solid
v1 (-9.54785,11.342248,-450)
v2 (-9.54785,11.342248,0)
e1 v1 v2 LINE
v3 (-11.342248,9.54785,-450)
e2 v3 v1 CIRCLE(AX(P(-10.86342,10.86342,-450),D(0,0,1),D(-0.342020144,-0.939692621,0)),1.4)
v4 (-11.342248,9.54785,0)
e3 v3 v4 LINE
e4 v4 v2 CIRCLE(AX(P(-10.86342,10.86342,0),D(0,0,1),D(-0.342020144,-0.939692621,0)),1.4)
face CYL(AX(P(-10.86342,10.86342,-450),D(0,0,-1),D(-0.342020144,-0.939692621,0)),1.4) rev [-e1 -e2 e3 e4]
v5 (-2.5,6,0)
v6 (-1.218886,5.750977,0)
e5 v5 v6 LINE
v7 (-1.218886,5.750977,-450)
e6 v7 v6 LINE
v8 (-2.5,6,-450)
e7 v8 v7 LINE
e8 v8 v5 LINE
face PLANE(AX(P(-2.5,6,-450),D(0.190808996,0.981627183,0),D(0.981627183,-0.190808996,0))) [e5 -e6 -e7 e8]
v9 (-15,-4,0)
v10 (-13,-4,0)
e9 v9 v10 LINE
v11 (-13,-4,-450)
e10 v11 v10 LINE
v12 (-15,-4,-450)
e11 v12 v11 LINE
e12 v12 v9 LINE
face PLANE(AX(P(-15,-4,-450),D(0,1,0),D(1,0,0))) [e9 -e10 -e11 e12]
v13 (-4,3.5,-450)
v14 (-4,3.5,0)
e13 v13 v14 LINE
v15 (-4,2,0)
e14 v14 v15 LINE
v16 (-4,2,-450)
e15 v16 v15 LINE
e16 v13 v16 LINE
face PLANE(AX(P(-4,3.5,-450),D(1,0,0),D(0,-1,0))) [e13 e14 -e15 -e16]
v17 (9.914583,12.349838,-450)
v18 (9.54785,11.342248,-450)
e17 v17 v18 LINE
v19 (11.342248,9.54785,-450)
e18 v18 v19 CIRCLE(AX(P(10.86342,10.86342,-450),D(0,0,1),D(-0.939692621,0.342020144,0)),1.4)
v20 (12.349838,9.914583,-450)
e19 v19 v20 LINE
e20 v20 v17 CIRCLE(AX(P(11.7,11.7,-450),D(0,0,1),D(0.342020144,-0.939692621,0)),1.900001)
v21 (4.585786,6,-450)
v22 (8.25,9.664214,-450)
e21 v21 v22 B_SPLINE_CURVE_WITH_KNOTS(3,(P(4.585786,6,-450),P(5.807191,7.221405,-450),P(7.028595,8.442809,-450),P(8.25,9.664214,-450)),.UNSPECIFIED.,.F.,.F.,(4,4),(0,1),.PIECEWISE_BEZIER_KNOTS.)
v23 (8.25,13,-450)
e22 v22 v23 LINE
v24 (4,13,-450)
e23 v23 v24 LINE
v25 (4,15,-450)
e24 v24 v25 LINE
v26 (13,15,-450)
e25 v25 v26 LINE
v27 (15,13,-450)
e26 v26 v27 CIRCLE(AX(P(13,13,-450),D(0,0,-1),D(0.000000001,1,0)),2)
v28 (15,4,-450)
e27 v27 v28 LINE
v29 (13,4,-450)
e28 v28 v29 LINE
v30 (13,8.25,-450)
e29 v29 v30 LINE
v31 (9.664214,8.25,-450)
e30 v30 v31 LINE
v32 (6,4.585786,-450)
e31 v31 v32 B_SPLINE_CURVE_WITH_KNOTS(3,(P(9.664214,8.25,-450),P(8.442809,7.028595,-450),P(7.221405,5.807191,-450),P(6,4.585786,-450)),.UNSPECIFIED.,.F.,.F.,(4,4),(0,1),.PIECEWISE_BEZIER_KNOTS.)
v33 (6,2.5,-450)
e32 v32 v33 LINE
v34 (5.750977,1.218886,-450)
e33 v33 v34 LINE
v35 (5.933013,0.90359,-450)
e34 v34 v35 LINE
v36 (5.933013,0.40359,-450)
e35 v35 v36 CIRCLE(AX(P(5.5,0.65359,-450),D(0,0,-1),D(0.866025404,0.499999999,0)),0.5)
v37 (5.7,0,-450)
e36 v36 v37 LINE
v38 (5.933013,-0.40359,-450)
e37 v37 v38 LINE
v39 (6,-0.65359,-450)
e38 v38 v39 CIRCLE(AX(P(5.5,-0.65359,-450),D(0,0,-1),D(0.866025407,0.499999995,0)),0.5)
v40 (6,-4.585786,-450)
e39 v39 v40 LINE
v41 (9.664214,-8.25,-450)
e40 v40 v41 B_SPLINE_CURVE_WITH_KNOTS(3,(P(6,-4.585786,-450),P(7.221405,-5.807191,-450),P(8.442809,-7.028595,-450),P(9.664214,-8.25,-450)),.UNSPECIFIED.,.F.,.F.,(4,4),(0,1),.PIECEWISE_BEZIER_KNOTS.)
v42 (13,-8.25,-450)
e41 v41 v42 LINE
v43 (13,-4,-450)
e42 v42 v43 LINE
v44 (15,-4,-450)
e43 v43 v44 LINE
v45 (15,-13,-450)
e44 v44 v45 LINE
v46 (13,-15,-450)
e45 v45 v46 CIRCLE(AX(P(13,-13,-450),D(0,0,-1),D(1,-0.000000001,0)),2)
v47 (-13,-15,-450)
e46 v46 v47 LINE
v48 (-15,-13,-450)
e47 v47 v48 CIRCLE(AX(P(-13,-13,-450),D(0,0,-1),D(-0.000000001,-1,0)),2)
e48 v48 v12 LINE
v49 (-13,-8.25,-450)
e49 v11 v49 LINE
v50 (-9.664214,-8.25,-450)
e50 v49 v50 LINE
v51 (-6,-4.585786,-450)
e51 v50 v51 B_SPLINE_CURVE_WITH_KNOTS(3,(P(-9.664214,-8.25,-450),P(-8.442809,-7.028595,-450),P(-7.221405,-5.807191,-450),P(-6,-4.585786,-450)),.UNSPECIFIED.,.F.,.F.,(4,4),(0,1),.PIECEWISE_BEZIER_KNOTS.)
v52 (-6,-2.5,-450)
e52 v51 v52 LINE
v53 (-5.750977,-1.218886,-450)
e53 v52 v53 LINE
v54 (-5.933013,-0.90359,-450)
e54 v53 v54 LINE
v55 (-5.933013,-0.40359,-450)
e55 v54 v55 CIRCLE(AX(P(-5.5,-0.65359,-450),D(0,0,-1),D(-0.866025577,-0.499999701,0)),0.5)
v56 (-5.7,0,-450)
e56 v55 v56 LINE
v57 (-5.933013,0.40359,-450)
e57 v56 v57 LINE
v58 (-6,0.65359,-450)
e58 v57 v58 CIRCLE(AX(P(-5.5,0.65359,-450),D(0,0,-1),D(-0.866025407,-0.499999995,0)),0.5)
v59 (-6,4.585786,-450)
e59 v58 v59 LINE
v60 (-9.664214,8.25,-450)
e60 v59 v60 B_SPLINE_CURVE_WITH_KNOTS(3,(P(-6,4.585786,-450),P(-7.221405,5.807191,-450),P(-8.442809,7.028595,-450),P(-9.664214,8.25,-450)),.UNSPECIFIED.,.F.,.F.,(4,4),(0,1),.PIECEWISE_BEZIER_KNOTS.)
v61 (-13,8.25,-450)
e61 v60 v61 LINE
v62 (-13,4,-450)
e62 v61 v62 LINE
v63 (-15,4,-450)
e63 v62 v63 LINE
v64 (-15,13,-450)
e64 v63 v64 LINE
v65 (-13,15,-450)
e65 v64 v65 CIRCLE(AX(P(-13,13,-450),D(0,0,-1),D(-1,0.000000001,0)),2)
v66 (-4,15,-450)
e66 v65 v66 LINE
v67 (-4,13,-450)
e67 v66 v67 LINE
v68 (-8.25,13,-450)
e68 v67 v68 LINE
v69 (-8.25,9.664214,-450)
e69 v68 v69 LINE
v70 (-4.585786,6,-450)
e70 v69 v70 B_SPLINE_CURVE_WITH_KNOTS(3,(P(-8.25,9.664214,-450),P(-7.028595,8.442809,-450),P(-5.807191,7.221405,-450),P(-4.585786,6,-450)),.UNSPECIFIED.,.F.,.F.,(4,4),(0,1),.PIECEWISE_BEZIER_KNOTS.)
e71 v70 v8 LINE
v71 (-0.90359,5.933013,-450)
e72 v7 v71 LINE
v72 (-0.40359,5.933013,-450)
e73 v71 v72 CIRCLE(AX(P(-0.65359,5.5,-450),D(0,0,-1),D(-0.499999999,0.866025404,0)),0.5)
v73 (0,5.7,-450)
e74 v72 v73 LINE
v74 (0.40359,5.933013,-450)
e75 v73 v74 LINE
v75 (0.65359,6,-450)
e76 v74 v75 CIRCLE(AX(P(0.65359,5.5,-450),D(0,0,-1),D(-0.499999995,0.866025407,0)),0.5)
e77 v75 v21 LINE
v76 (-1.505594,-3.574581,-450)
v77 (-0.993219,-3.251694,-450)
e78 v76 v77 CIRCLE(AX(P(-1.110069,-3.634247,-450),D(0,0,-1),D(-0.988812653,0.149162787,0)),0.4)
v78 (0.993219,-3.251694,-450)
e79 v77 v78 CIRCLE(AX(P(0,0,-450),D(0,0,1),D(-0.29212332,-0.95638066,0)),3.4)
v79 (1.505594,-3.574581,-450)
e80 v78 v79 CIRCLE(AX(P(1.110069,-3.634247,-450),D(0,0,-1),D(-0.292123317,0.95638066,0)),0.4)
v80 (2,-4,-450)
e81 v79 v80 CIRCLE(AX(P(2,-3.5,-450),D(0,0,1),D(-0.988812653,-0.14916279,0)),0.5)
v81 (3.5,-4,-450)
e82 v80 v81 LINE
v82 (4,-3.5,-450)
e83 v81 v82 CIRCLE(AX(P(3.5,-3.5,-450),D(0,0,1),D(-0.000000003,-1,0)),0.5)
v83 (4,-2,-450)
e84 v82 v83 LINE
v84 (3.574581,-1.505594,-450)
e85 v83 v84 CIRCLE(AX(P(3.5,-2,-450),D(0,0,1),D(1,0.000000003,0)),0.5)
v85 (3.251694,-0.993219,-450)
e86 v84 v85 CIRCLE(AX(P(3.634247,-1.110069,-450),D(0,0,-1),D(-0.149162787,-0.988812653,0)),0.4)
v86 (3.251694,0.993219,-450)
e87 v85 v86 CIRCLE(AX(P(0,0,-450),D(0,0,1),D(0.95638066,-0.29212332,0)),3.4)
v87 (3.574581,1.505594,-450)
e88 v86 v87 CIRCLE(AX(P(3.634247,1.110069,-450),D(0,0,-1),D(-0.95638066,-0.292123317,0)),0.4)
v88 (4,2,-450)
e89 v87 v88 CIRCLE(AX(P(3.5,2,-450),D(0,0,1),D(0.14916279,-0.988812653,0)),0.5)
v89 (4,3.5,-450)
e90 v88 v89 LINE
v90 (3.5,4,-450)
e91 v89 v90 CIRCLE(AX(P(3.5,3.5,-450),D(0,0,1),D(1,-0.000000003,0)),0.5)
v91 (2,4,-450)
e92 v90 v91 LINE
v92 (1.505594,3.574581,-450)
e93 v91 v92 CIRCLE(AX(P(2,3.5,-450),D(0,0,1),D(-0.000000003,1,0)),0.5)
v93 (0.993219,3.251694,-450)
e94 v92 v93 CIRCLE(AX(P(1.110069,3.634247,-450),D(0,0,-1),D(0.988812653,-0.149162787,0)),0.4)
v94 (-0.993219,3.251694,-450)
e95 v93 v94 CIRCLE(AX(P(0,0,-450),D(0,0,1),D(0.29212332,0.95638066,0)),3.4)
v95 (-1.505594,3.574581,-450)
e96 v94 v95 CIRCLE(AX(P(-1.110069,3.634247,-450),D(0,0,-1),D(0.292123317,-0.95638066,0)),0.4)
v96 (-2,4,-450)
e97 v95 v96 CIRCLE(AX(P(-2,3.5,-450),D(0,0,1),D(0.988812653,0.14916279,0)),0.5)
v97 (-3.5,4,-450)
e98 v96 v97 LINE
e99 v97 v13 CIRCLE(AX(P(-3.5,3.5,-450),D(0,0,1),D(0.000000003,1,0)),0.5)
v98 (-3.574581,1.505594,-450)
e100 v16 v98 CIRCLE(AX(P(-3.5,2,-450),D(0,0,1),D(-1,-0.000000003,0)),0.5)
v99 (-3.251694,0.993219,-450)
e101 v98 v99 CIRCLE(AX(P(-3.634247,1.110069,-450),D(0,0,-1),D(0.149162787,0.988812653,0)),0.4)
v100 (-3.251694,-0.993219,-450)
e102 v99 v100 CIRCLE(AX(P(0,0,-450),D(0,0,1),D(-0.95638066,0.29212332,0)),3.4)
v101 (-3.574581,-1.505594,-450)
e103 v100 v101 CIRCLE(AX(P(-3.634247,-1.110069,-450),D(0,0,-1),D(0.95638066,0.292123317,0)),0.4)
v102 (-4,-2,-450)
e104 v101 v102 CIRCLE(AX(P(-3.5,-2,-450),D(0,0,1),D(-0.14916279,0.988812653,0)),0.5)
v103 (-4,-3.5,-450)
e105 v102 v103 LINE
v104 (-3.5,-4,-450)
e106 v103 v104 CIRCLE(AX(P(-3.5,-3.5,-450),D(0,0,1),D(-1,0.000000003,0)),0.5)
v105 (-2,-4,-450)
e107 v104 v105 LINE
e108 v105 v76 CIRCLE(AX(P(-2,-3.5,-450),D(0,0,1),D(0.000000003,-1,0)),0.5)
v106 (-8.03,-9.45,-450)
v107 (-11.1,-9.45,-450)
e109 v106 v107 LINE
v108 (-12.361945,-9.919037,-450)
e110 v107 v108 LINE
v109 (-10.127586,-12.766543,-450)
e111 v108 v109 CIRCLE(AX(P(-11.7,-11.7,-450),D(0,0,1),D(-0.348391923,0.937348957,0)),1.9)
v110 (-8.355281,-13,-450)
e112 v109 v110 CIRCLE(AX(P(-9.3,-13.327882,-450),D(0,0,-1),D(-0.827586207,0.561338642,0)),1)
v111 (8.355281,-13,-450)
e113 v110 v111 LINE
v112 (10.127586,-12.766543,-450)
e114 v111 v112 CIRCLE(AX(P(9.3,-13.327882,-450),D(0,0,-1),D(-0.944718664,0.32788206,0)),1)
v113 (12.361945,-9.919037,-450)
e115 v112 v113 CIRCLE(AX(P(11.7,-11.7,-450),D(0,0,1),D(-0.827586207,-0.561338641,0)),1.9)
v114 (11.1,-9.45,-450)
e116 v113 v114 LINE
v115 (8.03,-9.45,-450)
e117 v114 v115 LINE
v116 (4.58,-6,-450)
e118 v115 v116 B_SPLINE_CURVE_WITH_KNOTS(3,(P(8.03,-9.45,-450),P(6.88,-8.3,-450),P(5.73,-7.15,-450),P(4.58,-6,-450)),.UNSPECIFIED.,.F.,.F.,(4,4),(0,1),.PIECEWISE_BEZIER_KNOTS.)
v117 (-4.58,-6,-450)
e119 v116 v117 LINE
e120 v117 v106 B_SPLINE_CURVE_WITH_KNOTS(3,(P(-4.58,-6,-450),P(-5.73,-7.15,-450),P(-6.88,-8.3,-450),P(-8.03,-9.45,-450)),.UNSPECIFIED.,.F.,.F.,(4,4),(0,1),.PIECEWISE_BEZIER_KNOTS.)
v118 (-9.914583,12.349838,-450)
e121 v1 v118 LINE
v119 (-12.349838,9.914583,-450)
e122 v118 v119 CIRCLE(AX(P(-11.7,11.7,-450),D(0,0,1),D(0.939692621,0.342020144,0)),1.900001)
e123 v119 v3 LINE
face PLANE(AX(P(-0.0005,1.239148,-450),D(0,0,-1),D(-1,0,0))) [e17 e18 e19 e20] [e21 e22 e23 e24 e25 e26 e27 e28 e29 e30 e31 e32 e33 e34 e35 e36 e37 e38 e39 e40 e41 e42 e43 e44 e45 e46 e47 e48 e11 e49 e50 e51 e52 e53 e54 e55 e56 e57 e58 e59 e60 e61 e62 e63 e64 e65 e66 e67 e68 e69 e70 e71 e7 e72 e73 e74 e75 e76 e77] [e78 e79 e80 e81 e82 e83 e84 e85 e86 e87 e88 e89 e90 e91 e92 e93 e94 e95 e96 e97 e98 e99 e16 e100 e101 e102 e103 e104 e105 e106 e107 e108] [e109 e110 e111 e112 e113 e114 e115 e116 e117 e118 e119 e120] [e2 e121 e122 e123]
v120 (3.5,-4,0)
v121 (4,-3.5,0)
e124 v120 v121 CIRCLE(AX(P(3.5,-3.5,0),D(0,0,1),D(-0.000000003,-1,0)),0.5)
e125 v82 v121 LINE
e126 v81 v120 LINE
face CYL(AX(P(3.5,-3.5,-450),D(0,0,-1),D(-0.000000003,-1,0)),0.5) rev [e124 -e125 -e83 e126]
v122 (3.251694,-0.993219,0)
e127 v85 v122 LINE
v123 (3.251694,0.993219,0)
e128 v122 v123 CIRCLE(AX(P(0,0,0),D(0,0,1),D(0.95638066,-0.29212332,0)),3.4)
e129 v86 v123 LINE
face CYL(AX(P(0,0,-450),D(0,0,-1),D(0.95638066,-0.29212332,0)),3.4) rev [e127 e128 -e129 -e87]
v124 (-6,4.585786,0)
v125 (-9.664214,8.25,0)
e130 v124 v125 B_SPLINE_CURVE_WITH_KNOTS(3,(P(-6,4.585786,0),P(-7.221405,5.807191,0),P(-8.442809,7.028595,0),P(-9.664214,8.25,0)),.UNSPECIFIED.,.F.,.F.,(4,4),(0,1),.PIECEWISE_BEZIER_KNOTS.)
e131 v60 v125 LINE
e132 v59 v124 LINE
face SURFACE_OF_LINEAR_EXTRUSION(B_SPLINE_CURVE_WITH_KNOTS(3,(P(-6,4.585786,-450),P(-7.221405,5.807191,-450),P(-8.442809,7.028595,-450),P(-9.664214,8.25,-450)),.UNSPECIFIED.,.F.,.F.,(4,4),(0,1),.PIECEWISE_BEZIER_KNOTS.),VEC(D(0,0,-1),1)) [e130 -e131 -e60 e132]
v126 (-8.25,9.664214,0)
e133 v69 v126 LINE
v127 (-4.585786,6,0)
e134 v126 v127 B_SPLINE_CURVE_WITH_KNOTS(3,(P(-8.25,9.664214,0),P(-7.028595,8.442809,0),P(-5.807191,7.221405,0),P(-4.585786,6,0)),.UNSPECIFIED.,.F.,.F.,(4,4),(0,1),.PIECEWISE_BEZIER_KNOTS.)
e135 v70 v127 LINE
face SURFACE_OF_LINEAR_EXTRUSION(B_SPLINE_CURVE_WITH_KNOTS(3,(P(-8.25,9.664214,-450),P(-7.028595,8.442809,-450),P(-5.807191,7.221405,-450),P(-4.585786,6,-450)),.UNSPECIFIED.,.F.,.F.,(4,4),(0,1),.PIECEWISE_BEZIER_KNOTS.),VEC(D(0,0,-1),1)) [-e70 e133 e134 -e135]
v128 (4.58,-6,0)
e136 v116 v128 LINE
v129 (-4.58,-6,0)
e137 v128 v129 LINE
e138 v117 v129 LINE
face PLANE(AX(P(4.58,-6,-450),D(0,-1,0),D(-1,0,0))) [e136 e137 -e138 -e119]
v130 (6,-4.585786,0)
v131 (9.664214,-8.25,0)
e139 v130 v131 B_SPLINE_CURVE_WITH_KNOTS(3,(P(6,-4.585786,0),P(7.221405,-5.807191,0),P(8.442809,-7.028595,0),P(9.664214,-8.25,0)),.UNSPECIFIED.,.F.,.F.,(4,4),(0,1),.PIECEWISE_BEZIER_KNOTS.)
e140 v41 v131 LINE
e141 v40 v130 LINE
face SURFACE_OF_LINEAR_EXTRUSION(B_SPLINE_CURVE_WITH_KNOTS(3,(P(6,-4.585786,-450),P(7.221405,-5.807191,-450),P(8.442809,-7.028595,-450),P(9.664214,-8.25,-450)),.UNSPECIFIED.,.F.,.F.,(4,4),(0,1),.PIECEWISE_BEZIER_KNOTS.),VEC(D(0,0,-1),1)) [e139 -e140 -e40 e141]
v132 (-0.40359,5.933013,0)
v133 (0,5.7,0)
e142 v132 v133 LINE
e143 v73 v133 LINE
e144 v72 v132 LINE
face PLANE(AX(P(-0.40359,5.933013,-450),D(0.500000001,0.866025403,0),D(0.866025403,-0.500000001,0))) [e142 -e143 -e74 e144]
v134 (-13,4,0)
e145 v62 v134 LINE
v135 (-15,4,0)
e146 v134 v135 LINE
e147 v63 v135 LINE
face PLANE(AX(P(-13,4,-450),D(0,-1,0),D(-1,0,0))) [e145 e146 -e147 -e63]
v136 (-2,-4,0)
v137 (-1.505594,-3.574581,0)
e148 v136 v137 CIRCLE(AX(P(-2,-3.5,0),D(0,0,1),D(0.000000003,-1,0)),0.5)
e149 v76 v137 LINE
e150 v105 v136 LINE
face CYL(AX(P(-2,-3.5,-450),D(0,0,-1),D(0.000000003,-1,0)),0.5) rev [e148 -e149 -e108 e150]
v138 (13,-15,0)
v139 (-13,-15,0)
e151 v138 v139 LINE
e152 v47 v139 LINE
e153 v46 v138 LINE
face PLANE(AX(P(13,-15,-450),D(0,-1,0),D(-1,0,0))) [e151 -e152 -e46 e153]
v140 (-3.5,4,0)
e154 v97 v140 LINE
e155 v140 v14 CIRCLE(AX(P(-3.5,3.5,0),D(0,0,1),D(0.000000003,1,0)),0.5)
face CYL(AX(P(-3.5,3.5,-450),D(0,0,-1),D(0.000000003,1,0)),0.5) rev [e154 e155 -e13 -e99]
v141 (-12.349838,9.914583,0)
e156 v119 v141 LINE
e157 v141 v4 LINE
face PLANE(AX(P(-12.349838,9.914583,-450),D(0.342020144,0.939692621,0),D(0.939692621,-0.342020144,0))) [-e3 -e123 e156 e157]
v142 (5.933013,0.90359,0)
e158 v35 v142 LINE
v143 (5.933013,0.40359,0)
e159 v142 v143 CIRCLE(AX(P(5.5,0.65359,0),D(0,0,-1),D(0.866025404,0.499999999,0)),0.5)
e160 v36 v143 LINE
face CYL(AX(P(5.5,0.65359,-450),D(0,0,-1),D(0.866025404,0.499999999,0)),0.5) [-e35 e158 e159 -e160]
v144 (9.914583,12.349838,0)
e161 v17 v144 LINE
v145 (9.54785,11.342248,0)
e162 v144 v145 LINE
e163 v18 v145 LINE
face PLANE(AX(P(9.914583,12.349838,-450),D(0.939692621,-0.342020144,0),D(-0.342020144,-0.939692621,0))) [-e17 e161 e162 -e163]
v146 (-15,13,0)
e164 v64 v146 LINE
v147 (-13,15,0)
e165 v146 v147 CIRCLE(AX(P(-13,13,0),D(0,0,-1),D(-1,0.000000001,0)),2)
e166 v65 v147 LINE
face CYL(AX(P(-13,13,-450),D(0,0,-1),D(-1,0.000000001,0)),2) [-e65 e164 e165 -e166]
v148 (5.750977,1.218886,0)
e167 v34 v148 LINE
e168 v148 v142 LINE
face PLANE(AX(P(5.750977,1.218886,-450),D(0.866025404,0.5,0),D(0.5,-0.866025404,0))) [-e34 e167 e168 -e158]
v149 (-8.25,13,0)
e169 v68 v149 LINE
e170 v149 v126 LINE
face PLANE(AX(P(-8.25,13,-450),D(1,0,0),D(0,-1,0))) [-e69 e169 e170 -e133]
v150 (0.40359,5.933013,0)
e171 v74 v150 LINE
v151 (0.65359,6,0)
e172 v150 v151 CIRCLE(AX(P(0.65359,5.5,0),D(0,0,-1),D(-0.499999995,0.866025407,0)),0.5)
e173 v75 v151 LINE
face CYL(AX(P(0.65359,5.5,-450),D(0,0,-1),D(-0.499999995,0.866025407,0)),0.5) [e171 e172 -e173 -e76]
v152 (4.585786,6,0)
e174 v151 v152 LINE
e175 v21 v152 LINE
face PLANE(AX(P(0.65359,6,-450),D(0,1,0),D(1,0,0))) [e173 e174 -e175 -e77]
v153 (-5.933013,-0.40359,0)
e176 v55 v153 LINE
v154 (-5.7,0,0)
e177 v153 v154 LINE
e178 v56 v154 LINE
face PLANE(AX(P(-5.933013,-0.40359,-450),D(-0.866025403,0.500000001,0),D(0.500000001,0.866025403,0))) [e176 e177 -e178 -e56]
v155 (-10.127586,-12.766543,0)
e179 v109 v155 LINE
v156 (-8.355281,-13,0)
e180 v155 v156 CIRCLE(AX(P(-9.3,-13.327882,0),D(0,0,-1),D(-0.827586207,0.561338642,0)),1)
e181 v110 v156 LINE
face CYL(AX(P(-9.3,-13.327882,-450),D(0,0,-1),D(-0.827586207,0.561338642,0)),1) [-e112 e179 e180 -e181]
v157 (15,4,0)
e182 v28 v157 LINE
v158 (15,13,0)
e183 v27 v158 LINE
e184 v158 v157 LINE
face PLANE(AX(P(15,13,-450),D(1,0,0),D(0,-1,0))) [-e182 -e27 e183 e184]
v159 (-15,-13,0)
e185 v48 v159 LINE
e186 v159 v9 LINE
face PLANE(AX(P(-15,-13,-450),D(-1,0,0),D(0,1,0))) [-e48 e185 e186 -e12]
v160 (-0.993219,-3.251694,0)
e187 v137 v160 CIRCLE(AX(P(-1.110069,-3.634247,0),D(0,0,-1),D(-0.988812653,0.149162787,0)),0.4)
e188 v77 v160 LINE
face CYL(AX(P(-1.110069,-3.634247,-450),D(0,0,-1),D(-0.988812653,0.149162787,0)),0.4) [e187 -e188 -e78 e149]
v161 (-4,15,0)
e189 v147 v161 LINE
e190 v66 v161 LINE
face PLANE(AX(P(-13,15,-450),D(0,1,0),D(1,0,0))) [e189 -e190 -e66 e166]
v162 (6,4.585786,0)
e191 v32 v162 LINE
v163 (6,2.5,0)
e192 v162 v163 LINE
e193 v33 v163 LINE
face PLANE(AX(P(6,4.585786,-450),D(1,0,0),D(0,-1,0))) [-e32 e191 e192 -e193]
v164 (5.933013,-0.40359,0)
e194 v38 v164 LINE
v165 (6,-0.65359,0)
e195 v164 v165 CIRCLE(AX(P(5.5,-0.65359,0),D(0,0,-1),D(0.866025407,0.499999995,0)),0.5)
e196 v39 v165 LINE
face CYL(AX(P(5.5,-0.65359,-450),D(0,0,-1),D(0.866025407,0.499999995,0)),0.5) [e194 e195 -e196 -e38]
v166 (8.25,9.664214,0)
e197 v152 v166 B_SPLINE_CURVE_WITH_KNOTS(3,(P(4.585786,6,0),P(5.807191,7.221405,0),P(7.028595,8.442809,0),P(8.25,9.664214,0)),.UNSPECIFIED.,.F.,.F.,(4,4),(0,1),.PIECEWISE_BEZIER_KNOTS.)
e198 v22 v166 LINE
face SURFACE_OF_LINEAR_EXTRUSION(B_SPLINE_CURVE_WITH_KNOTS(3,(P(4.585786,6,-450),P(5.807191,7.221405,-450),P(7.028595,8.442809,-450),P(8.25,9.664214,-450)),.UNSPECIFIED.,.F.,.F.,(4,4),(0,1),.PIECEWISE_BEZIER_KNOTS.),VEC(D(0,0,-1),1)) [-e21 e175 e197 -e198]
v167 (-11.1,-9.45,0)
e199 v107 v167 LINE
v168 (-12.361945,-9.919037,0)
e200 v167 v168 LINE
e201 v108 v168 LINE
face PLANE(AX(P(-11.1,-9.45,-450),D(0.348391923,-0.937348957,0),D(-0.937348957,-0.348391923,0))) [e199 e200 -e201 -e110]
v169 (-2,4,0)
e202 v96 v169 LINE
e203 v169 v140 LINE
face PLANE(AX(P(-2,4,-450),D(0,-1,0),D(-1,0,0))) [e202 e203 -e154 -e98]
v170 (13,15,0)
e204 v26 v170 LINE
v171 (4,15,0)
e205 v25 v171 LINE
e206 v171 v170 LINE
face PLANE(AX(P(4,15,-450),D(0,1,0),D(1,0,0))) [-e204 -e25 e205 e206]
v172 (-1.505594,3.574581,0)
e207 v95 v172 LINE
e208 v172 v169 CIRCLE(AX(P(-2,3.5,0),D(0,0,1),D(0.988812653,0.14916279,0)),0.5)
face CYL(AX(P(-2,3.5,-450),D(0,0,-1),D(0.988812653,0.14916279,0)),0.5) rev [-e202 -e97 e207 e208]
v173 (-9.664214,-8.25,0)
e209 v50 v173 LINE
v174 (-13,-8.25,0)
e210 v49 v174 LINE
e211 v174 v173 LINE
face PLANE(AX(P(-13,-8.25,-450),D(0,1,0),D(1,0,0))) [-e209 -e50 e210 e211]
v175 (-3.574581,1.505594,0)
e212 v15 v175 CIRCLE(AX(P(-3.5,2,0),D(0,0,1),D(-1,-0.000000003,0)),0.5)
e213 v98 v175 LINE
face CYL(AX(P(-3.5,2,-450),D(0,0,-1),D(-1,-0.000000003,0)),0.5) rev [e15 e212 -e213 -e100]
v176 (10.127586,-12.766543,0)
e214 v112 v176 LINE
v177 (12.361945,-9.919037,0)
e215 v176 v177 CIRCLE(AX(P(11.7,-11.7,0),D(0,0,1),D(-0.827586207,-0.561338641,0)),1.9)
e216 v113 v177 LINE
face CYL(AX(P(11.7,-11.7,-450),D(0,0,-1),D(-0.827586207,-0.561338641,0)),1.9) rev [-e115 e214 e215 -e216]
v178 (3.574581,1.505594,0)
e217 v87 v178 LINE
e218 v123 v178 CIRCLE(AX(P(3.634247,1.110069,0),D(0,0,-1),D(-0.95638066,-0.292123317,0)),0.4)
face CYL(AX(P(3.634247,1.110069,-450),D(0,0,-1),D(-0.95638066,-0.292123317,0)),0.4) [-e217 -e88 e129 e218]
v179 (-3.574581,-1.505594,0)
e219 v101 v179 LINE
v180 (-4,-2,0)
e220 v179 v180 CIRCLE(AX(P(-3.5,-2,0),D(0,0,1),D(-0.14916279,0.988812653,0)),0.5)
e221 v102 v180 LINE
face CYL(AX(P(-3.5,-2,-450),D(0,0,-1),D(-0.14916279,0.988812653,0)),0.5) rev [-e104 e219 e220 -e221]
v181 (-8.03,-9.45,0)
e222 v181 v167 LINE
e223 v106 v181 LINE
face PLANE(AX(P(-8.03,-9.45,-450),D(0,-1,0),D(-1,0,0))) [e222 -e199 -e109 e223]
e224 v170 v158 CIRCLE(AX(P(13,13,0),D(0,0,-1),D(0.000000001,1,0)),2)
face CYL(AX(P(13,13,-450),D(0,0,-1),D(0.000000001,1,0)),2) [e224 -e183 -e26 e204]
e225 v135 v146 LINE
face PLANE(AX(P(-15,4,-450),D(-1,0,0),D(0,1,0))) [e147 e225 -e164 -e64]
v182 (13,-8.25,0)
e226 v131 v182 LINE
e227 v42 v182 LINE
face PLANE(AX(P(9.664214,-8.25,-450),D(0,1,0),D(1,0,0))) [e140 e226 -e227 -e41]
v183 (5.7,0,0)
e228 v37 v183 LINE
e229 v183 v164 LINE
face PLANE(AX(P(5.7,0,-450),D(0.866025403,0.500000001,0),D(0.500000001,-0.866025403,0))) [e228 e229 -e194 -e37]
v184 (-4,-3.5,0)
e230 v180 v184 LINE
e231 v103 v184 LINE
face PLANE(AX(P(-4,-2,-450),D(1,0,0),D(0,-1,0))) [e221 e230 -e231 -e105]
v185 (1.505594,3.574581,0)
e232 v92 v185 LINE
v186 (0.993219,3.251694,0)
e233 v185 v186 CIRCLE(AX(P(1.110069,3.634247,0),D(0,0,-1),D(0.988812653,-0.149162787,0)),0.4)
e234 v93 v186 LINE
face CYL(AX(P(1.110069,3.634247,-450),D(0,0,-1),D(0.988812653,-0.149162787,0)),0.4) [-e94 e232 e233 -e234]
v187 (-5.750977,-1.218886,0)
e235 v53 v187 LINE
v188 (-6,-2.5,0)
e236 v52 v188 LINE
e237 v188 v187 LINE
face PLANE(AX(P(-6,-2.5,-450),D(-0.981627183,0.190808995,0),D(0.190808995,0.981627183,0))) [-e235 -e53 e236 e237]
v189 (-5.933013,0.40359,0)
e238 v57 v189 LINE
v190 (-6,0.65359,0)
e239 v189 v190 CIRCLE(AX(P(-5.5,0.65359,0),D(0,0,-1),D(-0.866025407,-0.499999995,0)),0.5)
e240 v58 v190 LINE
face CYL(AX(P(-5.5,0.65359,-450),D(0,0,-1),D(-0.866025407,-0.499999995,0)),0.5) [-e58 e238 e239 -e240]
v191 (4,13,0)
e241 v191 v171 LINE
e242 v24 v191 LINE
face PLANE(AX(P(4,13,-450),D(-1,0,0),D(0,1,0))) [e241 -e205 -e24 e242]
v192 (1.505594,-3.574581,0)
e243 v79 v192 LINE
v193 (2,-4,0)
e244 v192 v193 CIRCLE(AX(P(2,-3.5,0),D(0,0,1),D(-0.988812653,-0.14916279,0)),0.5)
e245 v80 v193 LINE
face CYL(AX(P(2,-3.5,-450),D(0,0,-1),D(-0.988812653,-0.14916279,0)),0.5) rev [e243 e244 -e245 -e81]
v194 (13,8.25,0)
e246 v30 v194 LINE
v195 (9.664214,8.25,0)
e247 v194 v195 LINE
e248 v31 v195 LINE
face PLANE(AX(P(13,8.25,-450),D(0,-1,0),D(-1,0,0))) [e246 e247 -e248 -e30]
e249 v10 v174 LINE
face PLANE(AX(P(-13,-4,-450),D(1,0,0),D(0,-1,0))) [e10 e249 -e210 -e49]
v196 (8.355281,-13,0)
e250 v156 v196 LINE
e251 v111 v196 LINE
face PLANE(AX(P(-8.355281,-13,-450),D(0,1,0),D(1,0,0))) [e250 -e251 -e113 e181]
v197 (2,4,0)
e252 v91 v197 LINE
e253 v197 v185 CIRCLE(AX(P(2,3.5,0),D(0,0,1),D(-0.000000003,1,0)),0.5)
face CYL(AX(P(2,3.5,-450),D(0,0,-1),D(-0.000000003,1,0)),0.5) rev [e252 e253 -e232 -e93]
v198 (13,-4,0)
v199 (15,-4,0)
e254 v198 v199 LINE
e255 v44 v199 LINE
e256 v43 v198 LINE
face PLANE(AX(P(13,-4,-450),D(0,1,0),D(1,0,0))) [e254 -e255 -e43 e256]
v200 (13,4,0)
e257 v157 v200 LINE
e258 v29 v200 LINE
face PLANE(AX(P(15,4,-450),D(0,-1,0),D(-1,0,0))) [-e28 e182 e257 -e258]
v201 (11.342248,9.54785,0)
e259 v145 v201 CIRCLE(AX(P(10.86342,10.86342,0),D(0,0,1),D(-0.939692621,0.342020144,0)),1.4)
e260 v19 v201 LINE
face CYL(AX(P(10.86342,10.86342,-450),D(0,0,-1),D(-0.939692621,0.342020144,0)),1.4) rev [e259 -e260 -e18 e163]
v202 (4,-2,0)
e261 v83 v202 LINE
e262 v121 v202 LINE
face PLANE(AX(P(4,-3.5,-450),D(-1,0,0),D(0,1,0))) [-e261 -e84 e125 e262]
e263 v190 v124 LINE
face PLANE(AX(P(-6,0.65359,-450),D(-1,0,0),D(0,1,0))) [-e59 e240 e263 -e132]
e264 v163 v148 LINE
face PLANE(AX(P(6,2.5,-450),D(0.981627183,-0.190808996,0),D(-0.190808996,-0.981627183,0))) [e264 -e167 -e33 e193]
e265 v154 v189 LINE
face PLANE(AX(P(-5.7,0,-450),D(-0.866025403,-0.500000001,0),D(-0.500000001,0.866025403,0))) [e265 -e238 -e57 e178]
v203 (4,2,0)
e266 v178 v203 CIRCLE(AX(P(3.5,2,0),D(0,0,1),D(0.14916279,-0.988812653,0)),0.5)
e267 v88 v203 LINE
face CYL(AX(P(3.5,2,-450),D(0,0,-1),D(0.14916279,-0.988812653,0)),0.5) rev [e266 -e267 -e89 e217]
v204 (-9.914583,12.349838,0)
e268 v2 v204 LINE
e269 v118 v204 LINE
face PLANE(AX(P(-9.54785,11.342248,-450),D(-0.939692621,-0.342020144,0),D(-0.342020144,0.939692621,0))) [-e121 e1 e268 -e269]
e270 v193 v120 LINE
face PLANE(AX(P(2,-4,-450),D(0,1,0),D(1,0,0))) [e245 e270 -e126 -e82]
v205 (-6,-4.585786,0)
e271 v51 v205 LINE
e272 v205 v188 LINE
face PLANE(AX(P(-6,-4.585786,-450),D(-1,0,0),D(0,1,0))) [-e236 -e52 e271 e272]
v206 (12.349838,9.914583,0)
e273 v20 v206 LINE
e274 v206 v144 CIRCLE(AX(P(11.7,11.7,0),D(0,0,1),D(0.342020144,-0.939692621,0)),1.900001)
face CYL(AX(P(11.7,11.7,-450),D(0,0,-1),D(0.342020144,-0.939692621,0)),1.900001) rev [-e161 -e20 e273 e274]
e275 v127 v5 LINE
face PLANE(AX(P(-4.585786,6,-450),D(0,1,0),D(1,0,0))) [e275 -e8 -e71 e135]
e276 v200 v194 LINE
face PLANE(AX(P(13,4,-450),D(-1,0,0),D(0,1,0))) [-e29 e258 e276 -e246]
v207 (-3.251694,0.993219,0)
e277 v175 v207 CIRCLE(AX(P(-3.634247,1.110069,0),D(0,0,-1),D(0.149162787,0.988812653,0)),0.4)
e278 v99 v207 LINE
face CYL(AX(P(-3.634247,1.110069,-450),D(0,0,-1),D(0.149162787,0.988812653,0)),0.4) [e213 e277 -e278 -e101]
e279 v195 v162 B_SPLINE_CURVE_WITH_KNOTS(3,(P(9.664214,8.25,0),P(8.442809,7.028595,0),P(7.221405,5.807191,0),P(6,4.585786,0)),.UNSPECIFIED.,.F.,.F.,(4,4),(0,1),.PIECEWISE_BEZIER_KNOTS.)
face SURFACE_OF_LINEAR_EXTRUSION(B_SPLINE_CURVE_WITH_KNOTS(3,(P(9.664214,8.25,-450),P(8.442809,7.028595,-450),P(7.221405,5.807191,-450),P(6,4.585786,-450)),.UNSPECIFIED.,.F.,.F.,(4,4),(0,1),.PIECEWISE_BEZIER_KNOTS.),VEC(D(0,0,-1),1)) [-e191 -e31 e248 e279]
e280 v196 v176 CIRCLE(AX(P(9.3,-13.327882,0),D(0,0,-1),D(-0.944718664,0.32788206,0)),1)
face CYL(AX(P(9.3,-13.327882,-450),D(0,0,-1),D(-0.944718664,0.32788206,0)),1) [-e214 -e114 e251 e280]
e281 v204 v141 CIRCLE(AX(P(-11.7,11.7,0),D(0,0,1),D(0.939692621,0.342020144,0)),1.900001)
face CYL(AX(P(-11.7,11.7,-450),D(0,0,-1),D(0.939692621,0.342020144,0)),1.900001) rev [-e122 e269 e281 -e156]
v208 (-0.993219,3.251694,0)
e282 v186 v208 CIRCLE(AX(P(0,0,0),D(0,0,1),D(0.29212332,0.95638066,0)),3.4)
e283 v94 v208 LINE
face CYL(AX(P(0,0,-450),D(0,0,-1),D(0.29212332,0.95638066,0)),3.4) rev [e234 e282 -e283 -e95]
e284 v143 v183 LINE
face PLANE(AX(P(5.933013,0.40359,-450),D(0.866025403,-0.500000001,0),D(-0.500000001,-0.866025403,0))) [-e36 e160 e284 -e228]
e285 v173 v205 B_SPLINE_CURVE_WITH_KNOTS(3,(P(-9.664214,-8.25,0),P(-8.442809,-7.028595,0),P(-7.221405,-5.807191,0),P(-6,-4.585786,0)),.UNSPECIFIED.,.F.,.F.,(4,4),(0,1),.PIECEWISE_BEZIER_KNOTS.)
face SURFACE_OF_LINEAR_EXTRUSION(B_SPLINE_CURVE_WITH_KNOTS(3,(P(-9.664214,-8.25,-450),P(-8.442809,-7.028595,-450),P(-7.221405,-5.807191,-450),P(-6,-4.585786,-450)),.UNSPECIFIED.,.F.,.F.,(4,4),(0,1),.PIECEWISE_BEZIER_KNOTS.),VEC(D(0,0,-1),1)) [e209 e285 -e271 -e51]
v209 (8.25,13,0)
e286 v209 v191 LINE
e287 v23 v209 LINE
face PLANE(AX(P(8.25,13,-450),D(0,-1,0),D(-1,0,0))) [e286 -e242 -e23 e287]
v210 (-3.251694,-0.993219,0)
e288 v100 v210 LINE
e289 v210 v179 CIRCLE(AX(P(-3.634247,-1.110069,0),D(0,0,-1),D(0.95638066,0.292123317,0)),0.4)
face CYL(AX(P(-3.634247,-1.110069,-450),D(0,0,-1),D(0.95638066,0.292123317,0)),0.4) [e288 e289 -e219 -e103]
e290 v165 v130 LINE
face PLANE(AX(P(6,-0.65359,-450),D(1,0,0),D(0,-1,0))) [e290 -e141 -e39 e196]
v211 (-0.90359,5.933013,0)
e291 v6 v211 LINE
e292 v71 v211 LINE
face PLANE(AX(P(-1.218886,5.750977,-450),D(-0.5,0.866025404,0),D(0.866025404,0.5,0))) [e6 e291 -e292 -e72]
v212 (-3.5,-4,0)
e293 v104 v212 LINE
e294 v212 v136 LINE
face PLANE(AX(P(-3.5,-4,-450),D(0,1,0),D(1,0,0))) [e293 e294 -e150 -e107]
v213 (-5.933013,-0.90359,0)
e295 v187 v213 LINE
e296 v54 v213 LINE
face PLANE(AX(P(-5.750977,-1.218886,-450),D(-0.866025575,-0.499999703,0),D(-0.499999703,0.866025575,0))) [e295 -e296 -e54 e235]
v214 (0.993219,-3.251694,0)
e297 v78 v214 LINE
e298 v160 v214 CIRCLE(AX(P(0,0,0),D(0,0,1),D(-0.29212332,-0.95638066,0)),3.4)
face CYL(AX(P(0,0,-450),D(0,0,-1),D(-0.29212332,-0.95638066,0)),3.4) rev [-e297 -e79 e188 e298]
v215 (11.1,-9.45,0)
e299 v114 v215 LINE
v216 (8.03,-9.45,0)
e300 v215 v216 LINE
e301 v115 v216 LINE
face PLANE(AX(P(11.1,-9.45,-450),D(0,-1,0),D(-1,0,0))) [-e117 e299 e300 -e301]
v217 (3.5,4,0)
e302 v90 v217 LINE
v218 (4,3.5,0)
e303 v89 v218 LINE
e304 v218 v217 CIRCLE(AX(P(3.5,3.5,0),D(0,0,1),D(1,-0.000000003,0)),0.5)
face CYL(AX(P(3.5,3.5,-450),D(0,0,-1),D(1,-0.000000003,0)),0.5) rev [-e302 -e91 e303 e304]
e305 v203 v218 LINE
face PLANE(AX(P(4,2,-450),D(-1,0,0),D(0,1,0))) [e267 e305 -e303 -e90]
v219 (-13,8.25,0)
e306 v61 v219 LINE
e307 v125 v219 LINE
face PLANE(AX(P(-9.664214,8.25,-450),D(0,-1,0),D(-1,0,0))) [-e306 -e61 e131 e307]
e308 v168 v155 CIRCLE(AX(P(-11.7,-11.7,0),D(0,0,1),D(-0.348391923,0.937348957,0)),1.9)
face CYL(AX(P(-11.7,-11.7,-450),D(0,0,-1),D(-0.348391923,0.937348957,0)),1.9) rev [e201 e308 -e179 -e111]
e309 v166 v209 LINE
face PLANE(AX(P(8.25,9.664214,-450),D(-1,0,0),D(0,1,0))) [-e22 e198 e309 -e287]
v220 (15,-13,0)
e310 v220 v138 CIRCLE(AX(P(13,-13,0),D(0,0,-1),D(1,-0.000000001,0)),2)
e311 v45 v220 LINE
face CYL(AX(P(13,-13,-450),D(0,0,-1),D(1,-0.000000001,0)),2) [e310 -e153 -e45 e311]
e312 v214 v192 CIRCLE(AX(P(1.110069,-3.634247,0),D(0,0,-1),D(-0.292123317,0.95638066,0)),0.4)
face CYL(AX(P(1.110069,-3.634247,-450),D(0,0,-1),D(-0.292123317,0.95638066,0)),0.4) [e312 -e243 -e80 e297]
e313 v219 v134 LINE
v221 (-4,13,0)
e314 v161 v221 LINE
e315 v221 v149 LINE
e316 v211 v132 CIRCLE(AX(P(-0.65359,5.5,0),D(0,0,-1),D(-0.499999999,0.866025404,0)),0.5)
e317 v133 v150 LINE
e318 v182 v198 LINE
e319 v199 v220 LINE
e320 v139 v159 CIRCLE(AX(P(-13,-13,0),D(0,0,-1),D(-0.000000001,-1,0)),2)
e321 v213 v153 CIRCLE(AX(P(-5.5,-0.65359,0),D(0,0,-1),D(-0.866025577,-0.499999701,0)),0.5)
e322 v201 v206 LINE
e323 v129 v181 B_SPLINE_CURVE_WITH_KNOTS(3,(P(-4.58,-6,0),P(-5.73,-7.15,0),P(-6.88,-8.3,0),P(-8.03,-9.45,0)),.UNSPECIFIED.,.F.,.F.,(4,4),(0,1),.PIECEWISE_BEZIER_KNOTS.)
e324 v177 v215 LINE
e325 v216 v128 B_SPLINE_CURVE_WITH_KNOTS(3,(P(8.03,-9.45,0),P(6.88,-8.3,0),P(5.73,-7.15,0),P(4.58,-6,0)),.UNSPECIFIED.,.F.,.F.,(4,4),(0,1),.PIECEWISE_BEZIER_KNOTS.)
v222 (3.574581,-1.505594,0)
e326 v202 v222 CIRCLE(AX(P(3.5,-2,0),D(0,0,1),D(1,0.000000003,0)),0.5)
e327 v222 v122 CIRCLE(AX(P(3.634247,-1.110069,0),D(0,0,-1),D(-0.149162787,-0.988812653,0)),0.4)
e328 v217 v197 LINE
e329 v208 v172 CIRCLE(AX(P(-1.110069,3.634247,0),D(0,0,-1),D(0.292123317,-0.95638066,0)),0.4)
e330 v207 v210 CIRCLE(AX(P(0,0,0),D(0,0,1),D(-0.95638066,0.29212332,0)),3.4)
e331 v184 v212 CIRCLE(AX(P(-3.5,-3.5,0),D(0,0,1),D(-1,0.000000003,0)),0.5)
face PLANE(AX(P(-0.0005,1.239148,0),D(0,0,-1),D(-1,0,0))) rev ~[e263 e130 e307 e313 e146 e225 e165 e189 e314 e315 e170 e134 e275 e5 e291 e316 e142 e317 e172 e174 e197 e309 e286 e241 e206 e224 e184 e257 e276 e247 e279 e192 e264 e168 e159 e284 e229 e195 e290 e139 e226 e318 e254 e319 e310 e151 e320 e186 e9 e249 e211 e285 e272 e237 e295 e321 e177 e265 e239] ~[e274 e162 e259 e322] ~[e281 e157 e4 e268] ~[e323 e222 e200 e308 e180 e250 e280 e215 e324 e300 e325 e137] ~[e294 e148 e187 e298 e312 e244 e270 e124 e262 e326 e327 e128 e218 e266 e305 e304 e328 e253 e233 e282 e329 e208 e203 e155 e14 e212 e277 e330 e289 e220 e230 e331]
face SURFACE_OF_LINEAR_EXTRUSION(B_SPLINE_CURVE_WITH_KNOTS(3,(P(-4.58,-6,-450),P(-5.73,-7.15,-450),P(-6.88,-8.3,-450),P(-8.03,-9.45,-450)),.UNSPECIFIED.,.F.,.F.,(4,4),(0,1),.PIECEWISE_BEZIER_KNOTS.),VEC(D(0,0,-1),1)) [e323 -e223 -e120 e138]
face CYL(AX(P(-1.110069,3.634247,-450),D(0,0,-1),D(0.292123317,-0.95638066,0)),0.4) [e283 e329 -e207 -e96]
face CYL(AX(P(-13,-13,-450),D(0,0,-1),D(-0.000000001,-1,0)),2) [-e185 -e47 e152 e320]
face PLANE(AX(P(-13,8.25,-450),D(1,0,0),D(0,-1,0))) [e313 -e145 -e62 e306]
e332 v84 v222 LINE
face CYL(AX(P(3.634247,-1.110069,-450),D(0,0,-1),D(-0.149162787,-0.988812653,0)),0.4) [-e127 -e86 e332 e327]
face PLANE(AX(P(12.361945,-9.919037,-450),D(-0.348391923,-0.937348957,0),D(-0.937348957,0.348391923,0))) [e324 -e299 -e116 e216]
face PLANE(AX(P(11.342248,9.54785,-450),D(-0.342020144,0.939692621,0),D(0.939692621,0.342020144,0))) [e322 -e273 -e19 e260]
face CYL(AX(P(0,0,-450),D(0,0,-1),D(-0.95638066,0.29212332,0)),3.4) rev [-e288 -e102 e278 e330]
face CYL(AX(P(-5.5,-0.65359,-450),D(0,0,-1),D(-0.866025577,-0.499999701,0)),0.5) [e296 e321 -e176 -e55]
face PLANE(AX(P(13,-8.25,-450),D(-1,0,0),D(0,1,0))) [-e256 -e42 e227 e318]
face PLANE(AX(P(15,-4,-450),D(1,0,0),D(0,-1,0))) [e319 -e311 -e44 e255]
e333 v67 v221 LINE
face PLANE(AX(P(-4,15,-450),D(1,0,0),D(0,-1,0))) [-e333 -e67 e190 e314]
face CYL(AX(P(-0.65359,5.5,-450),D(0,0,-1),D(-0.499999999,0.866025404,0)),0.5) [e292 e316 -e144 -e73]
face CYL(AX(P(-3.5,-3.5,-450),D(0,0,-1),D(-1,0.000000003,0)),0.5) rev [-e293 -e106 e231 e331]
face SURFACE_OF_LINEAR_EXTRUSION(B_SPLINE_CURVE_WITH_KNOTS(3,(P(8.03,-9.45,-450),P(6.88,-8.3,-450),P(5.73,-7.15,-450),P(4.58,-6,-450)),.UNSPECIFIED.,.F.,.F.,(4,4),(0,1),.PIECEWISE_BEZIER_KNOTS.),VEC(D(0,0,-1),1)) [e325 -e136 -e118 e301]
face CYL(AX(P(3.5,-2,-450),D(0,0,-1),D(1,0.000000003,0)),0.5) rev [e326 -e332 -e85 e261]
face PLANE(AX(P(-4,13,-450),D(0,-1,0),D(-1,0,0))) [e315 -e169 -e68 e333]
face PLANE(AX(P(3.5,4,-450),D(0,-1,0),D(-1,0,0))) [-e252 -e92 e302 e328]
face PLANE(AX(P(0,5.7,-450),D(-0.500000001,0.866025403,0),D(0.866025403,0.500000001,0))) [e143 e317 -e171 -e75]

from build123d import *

# Parameters (mm, degrees)
ESTRUSIONE_ESTRUSIONE1_DEPTH = 450


with BuildPart() as part:
    # Schizzo1 → Estrusione-Estrusione1 (new body)
    with BuildSketch(Plane(origin=(0, 0, -450), x_dir=(-1, 0, 0), z_dir=(0, 0, -1))):
        with BuildLine():
            Line((-15, -4), (-15, -13))
            ThreePointArc((-15, -13), (-14.414213562, -14.414213562), (-13, -15))
            Line((-13, -15), (13, -15))
            ThreePointArc((13, -15), (14.414213562, -14.414213562), (15, -13))
            Line((15, -13), (15, -4))
            Line((15, -4), (13, -4))
            Line((13, -4), (13, -8.25))
            Line((13, -8.25), (9.664213562, -8.25))
            add(Edge.make_bspline(
                [(9.664213562, -8.25), (8.442809042, -7.028595479), (7.221404521, -5.807190958), (6, -4.585786438)],
                knots=[0, 0, 0, 0, 1, 1, 1, 1], degree=3))
            Line((6, -4.585786438), (6, -2.5))
            Line((6, -2.5), (5.750976629, -1.218885816))
            Line((5.750976629, -1.218885816), (5.933012788, -0.90358969))
            ThreePointArc((5.933012788, -0.90358969), (6, -0.653589753), (5.933012702, -0.403589838))
            Line((5.933012702, -0.403589838), (5.7, 0))
            Line((5.7, 0), (5.933012702, 0.403589838))
            ThreePointArc((5.933012702, 0.403589838), (5.982962913, 0.524180316), (6, 0.653589838))
            Line((6, 0.653589838), (6, 4.585786438))
            add(Edge.make_bspline(
                [(6, 4.585786438), (7.221404521, 5.807190958), (8.442809042, 7.028595479), (9.664213562, 8.25)],
                knots=[0, 0, 0, 0, 1, 1, 1, 1], degree=3))
            Line((9.664213562, 8.25), (13, 8.25))
            Line((13, 8.25), (13, 4))
            Line((13, 4), (15, 4))
            Line((15, 4), (15, 13))
            ThreePointArc((15, 13), (14.414213562, 14.414213562), (13, 15))
            Line((13, 15), (4, 15))
            Line((4, 15), (4, 13))
            Line((4, 13), (8.25, 13))
            Line((8.25, 13), (8.25, 9.664213562))
            add(Edge.make_bspline(
                [(8.25, 9.664213562), (7.028595479, 8.442809042), (5.807190958, 7.221404521), (4.585786438, 6)],
                knots=[0, 0, 0, 0, 1, 1, 1, 1], degree=3))
            Line((4.585786438, 6), (2.5, 6))
            Line((2.5, 6), (1.218885629, 5.750976592))
            Line((1.218885629, 5.750976592), (0.903589838, 5.933012702))
            ThreePointArc((0.903589838, 5.933012702), (0.653589838, 6), (0.403589838, 5.933012702))
            Line((0.403589838, 5.933012702), (0, 5.7))
            Line((0, 5.7), (-0.403589838, 5.933012702))
            ThreePointArc((-0.403589838, 5.933012702), (-0.524180316, 5.982962913), (-0.653589838, 6))
            Line((-0.653589838, 6), (-4.585786438, 6))
            add(Edge.make_bspline(
                [(-4.585786438, 6), (-5.807190958, 7.221404521), (-7.028595479, 8.442809042), (-8.25, 9.664213562)],
                knots=[0, 0, 0, 0, 1, 1, 1, 1], degree=3))
            Line((-8.25, 9.664213562), (-8.25, 13))
            Line((-8.25, 13), (-4, 13))
            Line((-4, 13), (-4, 15))
            Line((-4, 15), (-13, 15))
            ThreePointArc((-13, 15), (-14.414213562, 14.414213562), (-15, 13))
            Line((-15, 13), (-15, 4))
            Line((-15, 4), (-13, 4))
            Line((-13, 4), (-13, 8.25))
            Line((-13, 8.25), (-9.664213562, 8.25))
            add(Edge.make_bspline(
                [(-9.664213562, 8.25), (-8.442809042, 7.028595479), (-7.221404521, 5.807190958), (-6, 4.585786438)],
                knots=[0, 0, 0, 0, 1, 1, 1, 1], degree=3))
            Line((-6, 4.585786438), (-6, 2.5))
            Line((-6, 2.5), (-5.750976592, 1.218885629))
            Line((-5.750976592, 1.218885629), (-5.933012702, 0.903589838))
            ThreePointArc((-5.933012702, 0.903589838), (-6, 0.653589838), (-5.933012702, 0.403589838))
            Line((-5.933012702, 0.403589838), (-5.7, 0))
            Line((-5.7, 0), (-5.933012702, -0.403589838))
            ThreePointArc((-5.933012702, -0.403589838), (-5.982962913, -0.524180316), (-6, -0.653589838))
            Line((-6, -0.653589838), (-6, -4.585786438))
            add(Edge.make_bspline(
                [(-6, -4.585786438), (-7.221404521, -5.807190958), (-8.442809042, -7.028595479), (-9.664213562, -8.25)],
                knots=[0, 0, 0, 0, 1, 1, 1, 1], degree=3))
            Line((-9.664213562, -8.25), (-13, -8.25))
            Line((-13, -8.25), (-13, -4))
            Line((-13, -4), (-15, -4))
        make_face()
        with BuildLine():
            Line((12.349838066, 9.914583088), (11.34224826, 9.54785039))
            ThreePointArc((11.34224826, 9.54785039), (9.873470565, 9.873470565), (9.54785039, 11.34224826))
            Line((9.54785039, 11.34224826), (9.914583088, 12.349838066))
            ThreePointArc((9.914583088, 12.349838066), (13.043502884, 13.043502884), (12.349838066, 9.914583088))
        make_face(mode=Mode.SUBTRACT)
        with BuildLine():
            Line((-4.58, -6), (4.58, -6))
            add(Edge.make_bspline(
                [(4.58, -6), (5.73, -7.15), (6.88, -8.3), (8.03, -9.45)],
                knots=[0, 0, 0, 0, 1, 1, 1, 1], degree=3))
            Line((8.03, -9.45), (11.1, -9.45))
            Line((11.1, -9.45), (12.361944654, -9.919036981))
            ThreePointArc((12.361944654, -9.919036981), (13.194761433, -12.872897378), (10.127586207, -12.766543418))
            ThreePointArc((10.127586207, -12.766543418), (9.169403304, -12.336446483), (8.355281336, -13))
            Line((8.355281336, -13), (-8.355281336, -13))
            ThreePointArc((-8.355281336, -13), (-9.169403304, -12.336446483), (-10.127586207, -12.766543418))
            ThreePointArc((-10.127586207, -12.766543418), (-13.194761433, -12.872897378), (-12.361944654, -9.919036981))
            Line((-12.361944654, -9.919036981), (-11.1, -9.45))
            Line((-11.1, -9.45), (-8.03, -9.45))
            add(Edge.make_bspline(
                [(-8.03, -9.45), (-6.88, -8.3), (-5.73, -7.15), (-4.58, -6)],
                knots=[0, 0, 0, 0, 1, 1, 1, 1], degree=3))
        make_face(mode=Mode.SUBTRACT)
        with BuildLine():
            Line((-11.34224826, 9.54785039), (-12.349838066, 9.914583088))
            ThreePointArc((-12.349838066, 9.914583088), (-13.043502884, 13.043502884), (-9.914583088, 12.349838066))
            Line((-9.914583088, 12.349838066), (-9.54785039, 11.34224826))
            ThreePointArc((-9.54785039, 11.34224826), (-9.873470565, 9.873470565), (-11.34224826, 9.54785039))
        make_face(mode=Mode.SUBTRACT)
        with BuildLine():
            Line((4, 3.5), (4, 2))
            ThreePointArc((4, 2), (3.879005736, 1.673879391), (3.574581393, 1.505593673))
            ThreePointArc((3.574581393, 1.505593673), (3.295837094, 1.323326833), (3.251694243, 0.993219284))
            ThreePointArc((3.251694243, 0.993219284), (3.4, 0), (3.251694243, -0.993219284))
            ThreePointArc((3.251694243, -0.993219284), (3.295837094, -1.323326833), (3.574581393, -1.505593673))
            ThreePointArc((3.574581393, -1.505593673), (3.879005736, -1.673879391), (4, -2))
            Line((4, -2), (4, -3.5))
            ThreePointArc((4, -3.5), (3.853553391, -3.853553391), (3.5, -4))
            Line((3.5, -4), (2, -4))
            ThreePointArc((2, -4), (1.673879391, -3.879005736), (1.505593673, -3.574581393))
            ThreePointArc((1.505593673, -3.574581393), (1.323326833, -3.295837094), (0.993219284, -3.251694243))
            ThreePointArc((0.993219284, -3.251694243), (0, -3.4), (-0.993219284, -3.251694243))
            ThreePointArc((-0.993219284, -3.251694243), (-1.323326833, -3.295837094), (-1.505593673, -3.574581393))
            ThreePointArc((-1.505593673, -3.574581393), (-1.673879391, -3.879005736), (-2, -4))
            Line((-2, -4), (-3.5, -4))
            ThreePointArc((-3.5, -4), (-3.853553391, -3.853553391), (-4, -3.5))
            Line((-4, -3.5), (-4, -2))
            ThreePointArc((-4, -2), (-3.879005736, -1.673879391), (-3.574581393, -1.505593673))
            ThreePointArc((-3.574581393, -1.505593673), (-3.295837094, -1.323326833), (-3.251694243, -0.993219284))
            ThreePointArc((-3.251694243, -0.993219284), (-3.4, 0), (-3.251694243, 0.993219284))
            ThreePointArc((-3.251694243, 0.993219284), (-3.295837094, 1.323326833), (-3.574581393, 1.505593673))
            ThreePointArc((-3.574581393, 1.505593673), (-3.879005736, 1.673879391), (-4, 2))
            Line((-4, 2), (-4, 3.5))
            ThreePointArc((-4, 3.5), (-3.853553391, 3.853553391), (-3.5, 4))
            Line((-3.5, 4), (-2, 4))
            ThreePointArc((-2, 4), (-1.673879391, 3.879005736), (-1.505593673, 3.574581393))
            ThreePointArc((-1.505593673, 3.574581393), (-1.323326833, 3.295837094), (-0.993219284, 3.251694243))
            ThreePointArc((-0.993219284, 3.251694243), (0, 3.4), (0.993219284, 3.251694243))
            ThreePointArc((0.993219284, 3.251694243), (1.323326833, 3.295837094), (1.505593673, 3.574581393))
            ThreePointArc((1.505593673, 3.574581393), (1.673879391, 3.879005736), (2, 4))
            Line((2, 4), (3.5, 4))
            ThreePointArc((3.5, 4), (3.853553391, 3.853553391), (4, 3.5))
        make_face(mode=Mode.SUBTRACT)
    extrude(amount=-ESTRUSIONE_ESTRUSIONE1_DEPTH)


solid = part.part
